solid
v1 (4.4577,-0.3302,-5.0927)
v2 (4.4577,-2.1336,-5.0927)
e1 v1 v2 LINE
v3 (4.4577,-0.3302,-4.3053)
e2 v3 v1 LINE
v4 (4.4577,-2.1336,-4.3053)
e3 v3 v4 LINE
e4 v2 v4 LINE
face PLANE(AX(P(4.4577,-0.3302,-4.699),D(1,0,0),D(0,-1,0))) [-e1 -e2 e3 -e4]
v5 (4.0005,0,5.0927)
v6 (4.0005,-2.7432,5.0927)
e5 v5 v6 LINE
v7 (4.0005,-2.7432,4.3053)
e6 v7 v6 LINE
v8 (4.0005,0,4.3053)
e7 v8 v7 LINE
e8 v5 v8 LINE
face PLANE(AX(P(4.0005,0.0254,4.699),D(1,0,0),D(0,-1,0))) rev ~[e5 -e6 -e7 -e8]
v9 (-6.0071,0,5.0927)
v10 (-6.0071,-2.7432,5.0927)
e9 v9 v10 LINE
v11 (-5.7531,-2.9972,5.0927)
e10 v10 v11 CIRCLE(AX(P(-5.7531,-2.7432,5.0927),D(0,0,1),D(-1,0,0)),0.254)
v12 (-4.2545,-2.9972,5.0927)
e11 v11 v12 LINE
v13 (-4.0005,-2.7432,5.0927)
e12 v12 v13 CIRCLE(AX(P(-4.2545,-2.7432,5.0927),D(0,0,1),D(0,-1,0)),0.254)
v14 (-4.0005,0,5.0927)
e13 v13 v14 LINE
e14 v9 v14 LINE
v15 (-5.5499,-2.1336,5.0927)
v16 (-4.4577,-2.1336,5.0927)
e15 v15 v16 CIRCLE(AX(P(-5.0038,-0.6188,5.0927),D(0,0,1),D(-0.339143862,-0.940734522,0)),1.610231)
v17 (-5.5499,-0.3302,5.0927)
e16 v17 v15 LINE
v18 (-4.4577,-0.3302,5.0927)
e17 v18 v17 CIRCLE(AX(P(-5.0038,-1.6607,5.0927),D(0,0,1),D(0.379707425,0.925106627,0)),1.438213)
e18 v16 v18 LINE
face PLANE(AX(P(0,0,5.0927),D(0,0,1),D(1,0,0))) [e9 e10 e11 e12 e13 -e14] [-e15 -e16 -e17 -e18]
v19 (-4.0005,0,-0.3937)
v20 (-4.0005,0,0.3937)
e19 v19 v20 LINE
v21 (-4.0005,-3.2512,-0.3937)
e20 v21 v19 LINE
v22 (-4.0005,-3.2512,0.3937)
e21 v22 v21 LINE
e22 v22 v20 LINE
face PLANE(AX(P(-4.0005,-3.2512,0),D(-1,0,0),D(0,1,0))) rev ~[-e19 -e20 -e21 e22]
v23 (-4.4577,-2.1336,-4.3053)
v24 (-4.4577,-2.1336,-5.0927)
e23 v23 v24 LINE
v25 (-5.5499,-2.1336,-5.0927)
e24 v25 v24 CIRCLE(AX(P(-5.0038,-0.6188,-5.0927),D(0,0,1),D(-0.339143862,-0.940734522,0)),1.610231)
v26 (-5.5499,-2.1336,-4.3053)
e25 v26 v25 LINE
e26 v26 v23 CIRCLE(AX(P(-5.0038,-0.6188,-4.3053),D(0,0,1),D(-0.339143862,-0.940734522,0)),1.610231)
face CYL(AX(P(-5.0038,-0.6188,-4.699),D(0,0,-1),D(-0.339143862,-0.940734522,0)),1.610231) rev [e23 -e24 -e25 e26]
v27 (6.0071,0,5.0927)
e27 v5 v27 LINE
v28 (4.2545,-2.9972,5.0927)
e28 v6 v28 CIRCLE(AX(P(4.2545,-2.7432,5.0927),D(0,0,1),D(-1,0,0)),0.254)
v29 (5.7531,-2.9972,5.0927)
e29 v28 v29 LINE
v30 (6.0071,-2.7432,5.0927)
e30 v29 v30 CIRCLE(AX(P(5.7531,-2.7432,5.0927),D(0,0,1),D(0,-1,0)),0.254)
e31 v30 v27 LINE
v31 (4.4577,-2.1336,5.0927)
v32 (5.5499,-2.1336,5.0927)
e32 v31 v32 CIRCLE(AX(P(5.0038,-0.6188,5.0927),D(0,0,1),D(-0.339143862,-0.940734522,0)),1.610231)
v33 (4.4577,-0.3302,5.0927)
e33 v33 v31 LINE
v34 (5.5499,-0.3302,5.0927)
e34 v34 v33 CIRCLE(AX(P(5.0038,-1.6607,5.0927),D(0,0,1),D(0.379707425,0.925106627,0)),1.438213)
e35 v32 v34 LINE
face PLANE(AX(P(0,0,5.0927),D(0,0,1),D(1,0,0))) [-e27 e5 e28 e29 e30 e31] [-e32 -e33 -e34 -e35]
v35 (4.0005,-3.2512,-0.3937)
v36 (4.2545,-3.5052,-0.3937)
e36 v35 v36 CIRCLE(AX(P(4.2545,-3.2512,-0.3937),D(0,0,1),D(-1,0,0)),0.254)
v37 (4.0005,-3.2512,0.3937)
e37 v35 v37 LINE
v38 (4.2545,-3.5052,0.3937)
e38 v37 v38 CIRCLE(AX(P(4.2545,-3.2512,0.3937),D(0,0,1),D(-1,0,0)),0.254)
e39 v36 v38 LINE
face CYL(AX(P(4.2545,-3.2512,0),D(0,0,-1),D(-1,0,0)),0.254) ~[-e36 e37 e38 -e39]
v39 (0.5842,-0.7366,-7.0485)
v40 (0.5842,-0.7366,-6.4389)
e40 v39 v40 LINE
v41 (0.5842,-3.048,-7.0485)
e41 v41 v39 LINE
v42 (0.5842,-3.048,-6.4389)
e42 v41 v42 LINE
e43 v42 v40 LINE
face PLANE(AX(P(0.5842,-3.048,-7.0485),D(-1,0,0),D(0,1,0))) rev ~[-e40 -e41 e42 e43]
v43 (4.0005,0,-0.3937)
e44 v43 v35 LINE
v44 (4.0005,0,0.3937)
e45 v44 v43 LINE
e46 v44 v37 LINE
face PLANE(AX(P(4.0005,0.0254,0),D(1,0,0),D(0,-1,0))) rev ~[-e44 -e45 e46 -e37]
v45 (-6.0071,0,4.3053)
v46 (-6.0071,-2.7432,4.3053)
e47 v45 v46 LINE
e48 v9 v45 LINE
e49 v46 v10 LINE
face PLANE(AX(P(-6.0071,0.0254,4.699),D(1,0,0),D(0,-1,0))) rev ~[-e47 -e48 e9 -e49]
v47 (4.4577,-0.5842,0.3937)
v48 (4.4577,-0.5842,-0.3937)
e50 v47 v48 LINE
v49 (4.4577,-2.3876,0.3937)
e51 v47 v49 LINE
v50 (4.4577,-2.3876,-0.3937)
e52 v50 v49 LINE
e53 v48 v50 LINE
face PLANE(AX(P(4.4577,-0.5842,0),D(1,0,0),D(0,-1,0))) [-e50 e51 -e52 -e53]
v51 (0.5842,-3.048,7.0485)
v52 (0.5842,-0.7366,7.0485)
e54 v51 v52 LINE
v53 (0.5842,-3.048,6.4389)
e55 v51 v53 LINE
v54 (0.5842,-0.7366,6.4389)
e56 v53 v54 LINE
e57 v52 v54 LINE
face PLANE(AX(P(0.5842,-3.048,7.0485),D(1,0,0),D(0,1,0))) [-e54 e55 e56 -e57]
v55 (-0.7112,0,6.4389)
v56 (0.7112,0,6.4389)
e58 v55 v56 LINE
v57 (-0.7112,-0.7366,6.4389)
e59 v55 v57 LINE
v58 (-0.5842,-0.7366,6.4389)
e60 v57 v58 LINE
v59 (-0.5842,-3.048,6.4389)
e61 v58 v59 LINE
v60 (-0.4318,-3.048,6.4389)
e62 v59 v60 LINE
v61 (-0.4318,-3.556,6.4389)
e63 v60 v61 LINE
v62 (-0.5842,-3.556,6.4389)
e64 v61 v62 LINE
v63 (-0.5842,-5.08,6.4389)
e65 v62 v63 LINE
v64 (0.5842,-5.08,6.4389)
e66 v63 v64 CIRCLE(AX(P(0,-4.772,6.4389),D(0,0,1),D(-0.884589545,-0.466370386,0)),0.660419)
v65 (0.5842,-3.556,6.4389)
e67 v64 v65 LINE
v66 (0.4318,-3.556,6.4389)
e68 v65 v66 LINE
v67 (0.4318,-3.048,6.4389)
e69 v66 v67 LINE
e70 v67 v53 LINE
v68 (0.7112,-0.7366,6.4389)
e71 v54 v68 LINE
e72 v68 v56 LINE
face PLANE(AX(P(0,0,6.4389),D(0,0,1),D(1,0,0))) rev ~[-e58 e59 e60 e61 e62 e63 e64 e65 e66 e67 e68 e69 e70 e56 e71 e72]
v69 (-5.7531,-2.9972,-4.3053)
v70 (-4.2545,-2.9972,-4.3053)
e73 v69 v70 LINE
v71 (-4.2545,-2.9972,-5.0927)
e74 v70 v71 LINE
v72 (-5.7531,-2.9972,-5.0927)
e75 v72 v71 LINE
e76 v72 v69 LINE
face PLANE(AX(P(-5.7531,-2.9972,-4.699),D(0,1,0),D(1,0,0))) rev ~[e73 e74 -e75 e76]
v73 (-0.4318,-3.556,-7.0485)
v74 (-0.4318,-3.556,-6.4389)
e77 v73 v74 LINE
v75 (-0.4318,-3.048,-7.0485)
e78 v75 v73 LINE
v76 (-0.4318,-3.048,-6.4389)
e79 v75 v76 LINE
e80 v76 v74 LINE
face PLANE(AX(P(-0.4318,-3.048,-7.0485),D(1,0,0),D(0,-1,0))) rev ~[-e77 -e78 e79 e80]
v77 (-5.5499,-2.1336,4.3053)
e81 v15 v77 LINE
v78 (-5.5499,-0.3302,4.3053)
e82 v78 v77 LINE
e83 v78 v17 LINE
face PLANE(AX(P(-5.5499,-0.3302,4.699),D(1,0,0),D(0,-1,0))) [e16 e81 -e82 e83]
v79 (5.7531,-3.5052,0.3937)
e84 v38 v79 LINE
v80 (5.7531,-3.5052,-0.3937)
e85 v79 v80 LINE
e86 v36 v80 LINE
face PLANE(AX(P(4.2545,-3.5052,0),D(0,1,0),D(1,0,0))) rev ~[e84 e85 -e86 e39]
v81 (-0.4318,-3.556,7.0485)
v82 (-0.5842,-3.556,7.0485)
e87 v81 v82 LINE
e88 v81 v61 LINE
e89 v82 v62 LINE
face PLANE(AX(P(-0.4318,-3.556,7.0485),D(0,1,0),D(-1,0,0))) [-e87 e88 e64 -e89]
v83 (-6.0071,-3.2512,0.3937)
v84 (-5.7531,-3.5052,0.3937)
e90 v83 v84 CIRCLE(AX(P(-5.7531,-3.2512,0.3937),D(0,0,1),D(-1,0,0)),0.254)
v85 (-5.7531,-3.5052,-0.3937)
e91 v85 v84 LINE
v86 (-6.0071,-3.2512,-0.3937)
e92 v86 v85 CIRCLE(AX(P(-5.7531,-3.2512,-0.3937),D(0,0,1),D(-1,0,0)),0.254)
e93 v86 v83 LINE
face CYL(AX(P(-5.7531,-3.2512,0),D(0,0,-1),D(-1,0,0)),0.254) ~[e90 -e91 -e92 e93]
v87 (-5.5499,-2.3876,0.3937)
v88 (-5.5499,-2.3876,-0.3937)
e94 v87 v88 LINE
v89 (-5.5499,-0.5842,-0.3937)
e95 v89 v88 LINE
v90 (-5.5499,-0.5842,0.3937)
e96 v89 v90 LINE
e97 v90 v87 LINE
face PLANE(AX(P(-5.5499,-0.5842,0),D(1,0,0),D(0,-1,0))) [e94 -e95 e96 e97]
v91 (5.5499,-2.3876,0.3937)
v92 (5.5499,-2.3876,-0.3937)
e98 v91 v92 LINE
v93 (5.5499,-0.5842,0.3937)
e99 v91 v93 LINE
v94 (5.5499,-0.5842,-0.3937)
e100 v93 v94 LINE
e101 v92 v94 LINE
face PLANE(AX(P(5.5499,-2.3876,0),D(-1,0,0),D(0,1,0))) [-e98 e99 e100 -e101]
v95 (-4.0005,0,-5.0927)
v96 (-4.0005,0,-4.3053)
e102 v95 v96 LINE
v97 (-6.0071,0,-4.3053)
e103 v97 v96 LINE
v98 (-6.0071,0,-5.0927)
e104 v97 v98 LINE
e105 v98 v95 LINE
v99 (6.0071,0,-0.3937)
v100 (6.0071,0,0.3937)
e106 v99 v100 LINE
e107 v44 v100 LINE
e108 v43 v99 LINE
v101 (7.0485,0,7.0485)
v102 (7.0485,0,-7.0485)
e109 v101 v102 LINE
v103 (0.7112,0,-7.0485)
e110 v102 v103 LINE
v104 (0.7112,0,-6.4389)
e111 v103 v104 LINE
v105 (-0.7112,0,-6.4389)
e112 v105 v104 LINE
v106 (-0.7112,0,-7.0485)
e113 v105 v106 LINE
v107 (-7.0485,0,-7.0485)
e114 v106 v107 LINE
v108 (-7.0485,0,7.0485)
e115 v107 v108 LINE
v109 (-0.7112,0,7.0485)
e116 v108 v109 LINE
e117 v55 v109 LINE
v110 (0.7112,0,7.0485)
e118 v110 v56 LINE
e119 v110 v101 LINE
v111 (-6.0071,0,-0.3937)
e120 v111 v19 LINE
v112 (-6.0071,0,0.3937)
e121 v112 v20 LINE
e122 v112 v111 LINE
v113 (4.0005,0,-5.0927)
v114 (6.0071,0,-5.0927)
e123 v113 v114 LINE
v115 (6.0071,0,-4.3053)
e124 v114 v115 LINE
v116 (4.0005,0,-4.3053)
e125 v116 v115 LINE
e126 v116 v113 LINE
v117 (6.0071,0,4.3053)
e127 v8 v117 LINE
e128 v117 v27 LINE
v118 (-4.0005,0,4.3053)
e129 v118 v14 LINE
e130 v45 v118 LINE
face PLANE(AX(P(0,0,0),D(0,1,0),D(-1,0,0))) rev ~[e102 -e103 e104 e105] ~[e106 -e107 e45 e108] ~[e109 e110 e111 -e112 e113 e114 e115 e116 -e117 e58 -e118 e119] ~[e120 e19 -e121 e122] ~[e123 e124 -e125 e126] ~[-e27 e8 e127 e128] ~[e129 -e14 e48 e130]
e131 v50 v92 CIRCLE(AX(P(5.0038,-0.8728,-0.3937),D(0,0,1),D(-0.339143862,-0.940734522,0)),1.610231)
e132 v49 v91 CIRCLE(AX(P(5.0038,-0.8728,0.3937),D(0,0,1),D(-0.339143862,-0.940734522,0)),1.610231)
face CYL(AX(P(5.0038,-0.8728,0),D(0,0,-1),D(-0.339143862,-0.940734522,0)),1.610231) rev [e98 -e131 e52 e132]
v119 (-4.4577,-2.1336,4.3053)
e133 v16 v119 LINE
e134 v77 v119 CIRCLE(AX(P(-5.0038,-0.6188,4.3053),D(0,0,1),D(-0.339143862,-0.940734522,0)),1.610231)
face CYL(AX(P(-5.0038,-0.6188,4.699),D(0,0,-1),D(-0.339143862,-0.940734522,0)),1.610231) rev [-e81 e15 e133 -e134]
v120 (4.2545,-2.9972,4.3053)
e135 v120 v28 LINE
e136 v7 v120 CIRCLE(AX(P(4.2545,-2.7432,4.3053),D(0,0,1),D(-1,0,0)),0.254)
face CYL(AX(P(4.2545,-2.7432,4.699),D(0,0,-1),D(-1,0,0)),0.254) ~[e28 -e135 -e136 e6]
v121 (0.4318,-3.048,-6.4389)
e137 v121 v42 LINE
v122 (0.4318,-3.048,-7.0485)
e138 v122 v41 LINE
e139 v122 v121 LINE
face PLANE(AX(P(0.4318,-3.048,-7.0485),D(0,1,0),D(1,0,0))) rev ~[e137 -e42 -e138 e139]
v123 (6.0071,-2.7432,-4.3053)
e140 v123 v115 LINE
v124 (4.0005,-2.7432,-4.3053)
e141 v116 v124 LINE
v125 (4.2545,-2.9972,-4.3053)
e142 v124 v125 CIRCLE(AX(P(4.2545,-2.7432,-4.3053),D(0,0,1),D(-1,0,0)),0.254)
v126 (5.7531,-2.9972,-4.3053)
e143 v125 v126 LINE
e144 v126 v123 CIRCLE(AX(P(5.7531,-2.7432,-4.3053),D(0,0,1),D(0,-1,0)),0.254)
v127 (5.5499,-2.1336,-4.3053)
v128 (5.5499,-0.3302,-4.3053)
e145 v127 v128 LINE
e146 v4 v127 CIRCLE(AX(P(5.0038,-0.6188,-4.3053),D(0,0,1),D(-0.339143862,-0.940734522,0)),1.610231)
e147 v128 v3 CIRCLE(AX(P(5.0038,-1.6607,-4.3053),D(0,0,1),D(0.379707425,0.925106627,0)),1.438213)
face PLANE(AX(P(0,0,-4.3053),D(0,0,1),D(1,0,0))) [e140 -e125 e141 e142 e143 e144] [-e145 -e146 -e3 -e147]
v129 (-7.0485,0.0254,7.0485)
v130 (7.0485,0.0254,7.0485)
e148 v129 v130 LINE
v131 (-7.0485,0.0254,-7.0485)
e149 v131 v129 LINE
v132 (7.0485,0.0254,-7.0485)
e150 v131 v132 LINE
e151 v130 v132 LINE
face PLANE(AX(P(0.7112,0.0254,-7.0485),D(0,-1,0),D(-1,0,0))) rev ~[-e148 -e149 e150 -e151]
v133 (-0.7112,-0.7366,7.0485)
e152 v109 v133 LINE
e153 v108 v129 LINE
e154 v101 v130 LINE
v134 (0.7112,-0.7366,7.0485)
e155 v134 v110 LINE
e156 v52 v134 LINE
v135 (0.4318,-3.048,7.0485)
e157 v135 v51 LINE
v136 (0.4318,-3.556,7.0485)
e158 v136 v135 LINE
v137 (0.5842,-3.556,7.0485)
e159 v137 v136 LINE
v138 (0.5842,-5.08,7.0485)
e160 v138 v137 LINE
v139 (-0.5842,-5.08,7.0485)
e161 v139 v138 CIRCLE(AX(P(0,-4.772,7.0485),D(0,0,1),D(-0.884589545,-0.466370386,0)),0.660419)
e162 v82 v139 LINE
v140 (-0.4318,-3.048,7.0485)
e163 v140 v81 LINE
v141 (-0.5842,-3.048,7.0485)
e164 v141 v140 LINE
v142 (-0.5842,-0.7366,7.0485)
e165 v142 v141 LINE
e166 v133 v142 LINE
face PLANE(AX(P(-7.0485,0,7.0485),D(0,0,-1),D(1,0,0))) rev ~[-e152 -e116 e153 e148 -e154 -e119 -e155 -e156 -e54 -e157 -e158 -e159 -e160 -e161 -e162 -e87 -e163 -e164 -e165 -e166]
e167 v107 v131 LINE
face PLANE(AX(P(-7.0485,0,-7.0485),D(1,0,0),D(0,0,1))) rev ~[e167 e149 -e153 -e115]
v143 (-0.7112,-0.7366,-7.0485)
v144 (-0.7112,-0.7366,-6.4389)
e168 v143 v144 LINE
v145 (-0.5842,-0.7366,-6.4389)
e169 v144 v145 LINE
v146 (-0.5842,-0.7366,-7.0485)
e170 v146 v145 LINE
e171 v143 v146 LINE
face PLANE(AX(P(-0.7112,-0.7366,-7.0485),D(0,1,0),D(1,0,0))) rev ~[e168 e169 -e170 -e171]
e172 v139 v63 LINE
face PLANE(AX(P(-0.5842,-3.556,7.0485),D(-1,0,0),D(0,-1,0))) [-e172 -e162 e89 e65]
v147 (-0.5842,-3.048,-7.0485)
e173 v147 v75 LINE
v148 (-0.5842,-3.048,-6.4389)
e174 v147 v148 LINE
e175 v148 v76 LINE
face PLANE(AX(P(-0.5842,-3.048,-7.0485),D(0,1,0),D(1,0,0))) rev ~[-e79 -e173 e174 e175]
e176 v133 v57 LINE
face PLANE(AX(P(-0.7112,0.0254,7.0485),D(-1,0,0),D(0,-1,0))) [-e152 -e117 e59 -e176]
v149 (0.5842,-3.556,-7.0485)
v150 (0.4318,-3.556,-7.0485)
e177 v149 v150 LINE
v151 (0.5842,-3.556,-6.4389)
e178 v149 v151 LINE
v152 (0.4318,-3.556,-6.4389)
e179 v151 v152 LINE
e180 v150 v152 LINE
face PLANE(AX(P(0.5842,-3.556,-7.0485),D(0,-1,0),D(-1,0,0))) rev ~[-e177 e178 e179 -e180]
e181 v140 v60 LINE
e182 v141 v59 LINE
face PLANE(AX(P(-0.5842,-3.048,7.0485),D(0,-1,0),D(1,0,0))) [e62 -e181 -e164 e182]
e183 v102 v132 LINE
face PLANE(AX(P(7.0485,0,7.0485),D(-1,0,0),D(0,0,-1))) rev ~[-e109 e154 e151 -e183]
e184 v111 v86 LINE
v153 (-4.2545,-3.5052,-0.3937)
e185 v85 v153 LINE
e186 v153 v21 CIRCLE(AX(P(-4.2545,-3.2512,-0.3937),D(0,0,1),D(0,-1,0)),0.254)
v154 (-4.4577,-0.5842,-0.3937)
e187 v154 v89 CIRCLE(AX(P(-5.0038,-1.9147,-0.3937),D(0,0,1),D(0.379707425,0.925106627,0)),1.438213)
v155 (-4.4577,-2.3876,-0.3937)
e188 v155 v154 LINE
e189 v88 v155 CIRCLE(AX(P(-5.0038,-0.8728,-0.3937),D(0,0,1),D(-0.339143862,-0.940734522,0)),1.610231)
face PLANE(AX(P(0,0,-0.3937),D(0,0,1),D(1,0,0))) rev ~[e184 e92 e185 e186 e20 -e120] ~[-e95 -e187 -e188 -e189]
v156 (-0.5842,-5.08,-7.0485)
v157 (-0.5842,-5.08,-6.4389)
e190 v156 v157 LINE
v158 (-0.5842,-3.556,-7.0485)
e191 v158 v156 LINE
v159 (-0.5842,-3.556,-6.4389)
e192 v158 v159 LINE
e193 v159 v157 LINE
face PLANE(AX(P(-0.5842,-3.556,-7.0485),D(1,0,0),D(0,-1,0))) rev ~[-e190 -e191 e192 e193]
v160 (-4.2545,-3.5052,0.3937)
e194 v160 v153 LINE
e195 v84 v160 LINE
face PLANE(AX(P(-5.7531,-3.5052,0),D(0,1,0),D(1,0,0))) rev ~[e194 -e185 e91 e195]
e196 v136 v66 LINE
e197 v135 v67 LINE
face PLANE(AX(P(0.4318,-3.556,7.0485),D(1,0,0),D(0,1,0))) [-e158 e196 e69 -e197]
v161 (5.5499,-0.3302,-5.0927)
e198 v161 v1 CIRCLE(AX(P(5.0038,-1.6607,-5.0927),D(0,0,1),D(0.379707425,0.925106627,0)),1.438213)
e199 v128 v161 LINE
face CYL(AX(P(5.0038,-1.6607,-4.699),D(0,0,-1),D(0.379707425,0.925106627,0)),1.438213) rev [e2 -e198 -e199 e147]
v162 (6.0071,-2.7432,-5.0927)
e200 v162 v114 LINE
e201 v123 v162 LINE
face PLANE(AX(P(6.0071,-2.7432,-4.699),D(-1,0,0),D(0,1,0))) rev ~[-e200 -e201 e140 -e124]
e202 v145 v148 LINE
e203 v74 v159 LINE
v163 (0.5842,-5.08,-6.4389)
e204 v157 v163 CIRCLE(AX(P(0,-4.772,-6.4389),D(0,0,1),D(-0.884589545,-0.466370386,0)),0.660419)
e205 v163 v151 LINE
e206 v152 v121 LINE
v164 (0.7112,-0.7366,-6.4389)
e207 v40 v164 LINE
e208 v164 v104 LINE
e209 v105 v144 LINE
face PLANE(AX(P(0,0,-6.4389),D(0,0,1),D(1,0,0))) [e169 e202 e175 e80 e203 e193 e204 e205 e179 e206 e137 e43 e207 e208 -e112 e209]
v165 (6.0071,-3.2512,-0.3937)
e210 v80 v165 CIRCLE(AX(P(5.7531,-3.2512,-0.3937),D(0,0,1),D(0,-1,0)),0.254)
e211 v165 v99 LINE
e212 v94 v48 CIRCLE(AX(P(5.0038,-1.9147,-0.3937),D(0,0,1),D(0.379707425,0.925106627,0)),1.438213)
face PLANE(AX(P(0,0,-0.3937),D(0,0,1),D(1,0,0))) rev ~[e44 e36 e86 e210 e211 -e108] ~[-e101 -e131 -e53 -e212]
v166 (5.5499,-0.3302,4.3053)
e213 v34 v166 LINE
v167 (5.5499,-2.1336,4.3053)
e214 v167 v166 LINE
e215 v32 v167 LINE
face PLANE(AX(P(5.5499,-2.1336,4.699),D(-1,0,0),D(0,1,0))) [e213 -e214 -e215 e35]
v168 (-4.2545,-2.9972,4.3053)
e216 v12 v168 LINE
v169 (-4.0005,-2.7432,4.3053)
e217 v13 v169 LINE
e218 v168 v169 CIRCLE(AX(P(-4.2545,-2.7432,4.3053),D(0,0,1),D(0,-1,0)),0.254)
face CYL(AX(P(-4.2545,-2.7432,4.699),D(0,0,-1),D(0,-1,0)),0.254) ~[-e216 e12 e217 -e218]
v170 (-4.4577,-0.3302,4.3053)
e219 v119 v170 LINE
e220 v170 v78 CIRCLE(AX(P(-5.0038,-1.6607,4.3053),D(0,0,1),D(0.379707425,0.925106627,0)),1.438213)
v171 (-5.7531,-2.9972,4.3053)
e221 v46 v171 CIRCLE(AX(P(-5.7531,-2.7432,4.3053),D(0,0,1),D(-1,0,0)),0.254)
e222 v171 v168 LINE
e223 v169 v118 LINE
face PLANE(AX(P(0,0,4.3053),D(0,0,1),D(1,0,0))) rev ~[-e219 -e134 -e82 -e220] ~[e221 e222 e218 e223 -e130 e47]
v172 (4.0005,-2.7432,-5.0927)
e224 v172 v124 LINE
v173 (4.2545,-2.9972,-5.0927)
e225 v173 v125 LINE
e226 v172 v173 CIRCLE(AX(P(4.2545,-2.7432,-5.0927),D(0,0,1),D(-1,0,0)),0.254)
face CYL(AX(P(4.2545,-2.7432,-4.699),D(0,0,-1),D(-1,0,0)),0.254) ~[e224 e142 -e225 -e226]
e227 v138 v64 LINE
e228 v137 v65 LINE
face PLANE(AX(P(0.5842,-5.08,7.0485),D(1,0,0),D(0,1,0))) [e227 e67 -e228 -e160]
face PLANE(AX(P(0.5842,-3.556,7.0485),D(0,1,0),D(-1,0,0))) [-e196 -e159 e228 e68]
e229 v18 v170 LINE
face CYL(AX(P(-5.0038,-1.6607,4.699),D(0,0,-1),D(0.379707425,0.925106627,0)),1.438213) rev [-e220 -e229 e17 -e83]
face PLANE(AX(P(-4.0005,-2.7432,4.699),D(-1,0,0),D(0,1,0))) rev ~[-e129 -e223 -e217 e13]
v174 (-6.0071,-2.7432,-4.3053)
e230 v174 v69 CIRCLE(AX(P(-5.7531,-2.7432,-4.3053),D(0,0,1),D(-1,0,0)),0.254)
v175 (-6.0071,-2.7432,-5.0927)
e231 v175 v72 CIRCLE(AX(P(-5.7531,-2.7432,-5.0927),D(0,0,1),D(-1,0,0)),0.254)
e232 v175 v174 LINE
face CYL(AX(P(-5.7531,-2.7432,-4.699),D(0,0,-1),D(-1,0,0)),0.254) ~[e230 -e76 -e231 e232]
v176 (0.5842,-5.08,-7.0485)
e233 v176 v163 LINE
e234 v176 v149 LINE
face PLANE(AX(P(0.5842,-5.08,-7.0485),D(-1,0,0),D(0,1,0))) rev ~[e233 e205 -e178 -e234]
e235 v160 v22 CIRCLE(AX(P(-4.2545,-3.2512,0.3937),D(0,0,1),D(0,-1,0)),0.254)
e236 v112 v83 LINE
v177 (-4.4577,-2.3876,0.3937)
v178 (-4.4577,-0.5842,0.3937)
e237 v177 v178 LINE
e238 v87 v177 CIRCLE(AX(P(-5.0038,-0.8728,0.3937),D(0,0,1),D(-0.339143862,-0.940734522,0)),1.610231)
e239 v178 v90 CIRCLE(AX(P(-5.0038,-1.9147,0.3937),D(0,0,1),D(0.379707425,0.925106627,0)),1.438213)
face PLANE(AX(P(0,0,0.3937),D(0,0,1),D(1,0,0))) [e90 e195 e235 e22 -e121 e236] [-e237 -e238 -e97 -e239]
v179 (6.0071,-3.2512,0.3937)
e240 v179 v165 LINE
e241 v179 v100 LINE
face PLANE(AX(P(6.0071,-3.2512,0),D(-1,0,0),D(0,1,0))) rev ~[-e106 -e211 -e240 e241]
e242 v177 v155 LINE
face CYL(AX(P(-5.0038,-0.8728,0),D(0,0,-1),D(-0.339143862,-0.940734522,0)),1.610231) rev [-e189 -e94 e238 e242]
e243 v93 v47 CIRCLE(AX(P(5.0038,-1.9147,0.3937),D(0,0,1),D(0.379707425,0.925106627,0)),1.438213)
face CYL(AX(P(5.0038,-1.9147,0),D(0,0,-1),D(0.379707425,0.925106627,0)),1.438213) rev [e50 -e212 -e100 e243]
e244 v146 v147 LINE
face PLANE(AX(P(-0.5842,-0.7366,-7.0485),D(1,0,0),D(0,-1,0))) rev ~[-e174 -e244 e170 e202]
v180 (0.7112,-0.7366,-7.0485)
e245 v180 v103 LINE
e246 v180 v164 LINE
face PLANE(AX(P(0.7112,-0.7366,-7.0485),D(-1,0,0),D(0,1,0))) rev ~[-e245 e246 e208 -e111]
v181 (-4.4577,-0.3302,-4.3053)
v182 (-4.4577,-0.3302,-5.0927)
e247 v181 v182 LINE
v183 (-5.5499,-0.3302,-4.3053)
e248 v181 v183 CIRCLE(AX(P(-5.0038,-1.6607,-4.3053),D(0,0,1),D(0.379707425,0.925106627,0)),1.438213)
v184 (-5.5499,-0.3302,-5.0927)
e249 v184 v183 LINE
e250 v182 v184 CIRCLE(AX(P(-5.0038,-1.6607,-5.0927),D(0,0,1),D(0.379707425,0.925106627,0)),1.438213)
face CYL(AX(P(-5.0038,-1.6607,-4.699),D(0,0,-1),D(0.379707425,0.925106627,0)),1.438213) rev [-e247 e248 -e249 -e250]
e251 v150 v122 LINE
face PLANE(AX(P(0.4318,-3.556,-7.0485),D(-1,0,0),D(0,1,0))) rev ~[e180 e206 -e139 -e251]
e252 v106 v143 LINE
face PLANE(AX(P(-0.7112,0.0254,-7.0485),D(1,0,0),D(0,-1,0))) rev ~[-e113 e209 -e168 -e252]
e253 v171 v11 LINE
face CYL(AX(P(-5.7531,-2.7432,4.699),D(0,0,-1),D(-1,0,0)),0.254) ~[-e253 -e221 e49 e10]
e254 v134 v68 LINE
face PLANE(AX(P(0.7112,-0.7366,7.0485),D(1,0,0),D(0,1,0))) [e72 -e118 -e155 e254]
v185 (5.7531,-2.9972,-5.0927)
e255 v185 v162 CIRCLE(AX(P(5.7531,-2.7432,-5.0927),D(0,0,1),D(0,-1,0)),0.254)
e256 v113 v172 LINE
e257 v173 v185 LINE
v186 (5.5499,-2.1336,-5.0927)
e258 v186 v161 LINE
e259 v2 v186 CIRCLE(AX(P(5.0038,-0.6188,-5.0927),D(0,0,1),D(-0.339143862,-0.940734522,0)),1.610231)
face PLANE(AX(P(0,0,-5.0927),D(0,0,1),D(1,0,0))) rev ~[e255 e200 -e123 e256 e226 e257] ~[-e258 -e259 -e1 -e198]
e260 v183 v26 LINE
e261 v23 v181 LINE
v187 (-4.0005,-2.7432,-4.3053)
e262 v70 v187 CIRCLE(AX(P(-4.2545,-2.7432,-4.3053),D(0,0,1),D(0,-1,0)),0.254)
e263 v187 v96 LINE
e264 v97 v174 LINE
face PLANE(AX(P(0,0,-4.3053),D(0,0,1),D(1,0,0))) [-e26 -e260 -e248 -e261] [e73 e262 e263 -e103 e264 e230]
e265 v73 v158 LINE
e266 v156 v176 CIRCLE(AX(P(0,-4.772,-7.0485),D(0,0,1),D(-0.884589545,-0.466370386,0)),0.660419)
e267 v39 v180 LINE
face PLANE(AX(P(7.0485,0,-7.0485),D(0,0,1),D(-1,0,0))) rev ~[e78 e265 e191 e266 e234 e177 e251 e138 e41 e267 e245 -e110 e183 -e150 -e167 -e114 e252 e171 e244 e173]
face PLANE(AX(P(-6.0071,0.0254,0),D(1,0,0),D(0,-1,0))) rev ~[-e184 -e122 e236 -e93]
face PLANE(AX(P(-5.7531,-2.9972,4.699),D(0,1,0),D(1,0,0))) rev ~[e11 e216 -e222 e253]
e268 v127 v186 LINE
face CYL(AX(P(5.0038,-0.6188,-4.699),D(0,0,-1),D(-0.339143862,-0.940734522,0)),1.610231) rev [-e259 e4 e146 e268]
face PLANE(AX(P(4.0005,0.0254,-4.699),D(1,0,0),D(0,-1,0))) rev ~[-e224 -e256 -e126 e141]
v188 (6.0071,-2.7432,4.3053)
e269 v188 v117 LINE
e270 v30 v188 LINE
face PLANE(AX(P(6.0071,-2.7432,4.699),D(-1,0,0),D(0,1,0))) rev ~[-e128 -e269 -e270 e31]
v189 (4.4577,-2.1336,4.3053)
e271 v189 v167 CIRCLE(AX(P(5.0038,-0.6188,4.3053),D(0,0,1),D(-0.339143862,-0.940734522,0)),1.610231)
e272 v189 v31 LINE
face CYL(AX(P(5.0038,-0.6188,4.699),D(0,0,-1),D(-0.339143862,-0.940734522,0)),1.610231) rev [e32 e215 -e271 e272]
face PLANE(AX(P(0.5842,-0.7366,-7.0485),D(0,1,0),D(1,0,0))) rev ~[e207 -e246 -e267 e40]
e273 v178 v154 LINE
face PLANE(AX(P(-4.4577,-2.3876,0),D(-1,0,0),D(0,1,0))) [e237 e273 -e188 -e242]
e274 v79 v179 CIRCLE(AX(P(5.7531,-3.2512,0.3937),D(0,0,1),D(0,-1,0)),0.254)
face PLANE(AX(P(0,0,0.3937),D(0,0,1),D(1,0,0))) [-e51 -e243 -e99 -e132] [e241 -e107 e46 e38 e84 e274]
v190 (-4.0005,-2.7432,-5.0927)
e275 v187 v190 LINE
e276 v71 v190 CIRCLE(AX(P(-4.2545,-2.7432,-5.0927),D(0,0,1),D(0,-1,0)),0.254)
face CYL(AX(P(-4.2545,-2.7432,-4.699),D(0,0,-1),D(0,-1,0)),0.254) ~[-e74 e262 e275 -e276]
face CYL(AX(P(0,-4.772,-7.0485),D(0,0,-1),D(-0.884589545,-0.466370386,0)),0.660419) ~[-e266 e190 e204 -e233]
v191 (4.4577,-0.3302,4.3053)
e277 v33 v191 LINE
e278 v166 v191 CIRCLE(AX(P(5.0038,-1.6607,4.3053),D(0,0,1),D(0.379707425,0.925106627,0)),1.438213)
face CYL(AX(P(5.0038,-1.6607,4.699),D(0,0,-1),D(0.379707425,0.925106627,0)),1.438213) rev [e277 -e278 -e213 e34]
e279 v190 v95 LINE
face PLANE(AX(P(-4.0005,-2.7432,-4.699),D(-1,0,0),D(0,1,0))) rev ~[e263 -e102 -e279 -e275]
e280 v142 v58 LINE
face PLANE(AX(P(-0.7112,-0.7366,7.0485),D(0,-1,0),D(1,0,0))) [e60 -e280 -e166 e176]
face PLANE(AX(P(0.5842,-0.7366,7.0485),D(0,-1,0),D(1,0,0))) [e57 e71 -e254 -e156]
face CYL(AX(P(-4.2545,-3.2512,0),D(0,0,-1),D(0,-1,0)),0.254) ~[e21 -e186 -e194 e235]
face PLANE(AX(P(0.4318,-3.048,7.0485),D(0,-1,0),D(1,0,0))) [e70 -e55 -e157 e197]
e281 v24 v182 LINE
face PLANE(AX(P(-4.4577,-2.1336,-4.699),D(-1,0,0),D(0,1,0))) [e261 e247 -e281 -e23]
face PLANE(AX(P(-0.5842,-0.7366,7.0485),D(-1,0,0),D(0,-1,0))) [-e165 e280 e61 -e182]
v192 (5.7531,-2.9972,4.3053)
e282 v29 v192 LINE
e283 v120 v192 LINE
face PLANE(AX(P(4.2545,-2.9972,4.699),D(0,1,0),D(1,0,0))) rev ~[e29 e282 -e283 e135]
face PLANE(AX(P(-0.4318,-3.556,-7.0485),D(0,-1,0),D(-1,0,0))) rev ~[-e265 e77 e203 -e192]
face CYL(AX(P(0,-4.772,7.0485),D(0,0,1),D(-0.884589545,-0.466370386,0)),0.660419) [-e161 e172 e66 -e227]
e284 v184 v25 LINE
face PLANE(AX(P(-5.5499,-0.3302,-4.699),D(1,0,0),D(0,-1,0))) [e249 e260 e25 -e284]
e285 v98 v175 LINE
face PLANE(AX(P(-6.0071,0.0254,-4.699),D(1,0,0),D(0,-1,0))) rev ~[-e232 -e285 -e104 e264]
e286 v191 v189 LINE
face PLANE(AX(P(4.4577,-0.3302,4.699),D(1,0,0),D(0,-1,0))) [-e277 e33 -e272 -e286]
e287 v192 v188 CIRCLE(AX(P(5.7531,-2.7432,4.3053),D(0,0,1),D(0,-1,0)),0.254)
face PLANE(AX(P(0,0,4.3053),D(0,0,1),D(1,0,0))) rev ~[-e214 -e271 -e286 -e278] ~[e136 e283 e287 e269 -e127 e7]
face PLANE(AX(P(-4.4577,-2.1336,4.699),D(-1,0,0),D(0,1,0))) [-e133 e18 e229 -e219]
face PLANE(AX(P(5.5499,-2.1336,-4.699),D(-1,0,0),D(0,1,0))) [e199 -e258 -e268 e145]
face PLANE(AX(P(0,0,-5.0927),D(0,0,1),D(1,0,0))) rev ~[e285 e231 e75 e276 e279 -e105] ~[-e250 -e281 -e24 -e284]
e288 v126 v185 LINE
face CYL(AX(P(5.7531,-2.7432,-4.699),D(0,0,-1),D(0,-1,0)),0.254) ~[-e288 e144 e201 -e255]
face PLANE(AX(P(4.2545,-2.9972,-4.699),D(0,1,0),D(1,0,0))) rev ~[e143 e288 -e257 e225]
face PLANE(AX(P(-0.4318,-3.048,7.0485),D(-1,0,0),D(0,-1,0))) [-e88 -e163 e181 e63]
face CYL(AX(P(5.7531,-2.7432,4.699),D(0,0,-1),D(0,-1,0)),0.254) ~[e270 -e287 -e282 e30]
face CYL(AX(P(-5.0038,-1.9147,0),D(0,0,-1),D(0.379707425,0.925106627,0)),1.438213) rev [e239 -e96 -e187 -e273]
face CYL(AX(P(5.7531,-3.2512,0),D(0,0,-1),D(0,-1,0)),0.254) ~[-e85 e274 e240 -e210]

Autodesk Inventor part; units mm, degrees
sketch "Sketch_1" plane through (0, 0, 0) normal (0, 1, 0) x (-1, 0, 0)
  line L0 (7.0485, -7.0485) -> (7.0485, 7.0485)
  line L1 (7.0485, 7.0485) -> (-7.0485, 7.0485)
  line L2 (-7.0485, 7.0485) -> (-7.0485, -7.0485)
  line L3 (-7.0485, -7.0485) -> (7.0485, -7.0485)
extrude "Extrusion1" add sketch "Sketch_1" along normal blind 0.0254
sketch "Sketch_3" plane through (0, 0, 7.0485) normal (0, 0, 1) x (1, 0, 0)
  line L0 (-0.7112, 0.0254) -> (-0.7112, -0.7366)
  line L1 (-0.7112, -0.7366) -> (-0.5842, -0.7366)
  line L2 (-0.5842, -0.7366) -> (-0.5842, -3.048)
  line L3 (-0.5842, -3.048) -> (-0.4318, -3.048)
  line L4 (-0.4318, -3.048) -> (-0.4318, -3.556)
  line L5 (-0.4318, -3.556) -> (-0.5842, -3.556)
  line L6 (-0.5842, -3.556) -> (-0.5842, -5.08)
  arc A0 (-0.5842, -5.08) -> (0.5842, -5.08) centre (0, -4.772) ccw
  line L7 (0.5842, -5.08) -> (0.5842, -3.556)
  line L8 (0.5842, -3.556) -> (0.4318, -3.556)
  line L9 (0.4318, -3.556) -> (0.4318, -3.048)
  line L10 (0.4318, -3.048) -> (0.5842, -3.048)
  line L11 (0.5842, -3.048) -> (0.5842, -0.7366)
  line L12 (0.5842, -0.7366) -> (0.7112, -0.7366)
  line L13 (0.7112, -0.7366) -> (0.7112, 0.0254)
  line L14 (0.7112, 0.0254) -> (-0.7112, 0.0254)
extrude "Extrusion2" add sketch "Sketch_3" against normal blind 0.6096
sketch "Sketch_5" plane through (0, 0, 0) normal (0, 0, 1) x (1, 0, 0)
  line L0 (4.0005, 0.0254) -> (4.0005, -3.2512)
  arc A0 (4.0005, -3.2512) -> (4.2545, -3.5052) centre (4.2545, -3.2512) ccw
  line L1 (4.2545, -3.5052) -> (5.7531, -3.5052)
  arc A1 (5.7531, -3.5052) -> (6.0071, -3.2512) centre (5.7531, -3.2512) ccw
  line L2 (6.0071, -3.2512) -> (6.0071, 0.0254)
  line L3 (6.0071, 0.0254) -> (4.0005, 0.0254)
  arc A2 (4.4577, -2.3876) -> (5.5499, -2.3876) centre (5.0038, -0.8728) ccw
  line L4 (5.5499, -2.3876) -> (5.5499, -0.5842)
  arc A3 (5.5499, -0.5842) -> (4.4577, -0.5842) centre (5.0038, -1.9147) ccw
  line L5 (4.4577, -0.5842) -> (4.4577, -2.3876)
extrude "Extrusion3" add sketch "Sketch_5" along normal mid plane 0.7874
sketch "Sketch_6" plane through (0, 0, 0) normal (0, 0, 1) x (1, 0, 0)
  line L0 (-6.0071, 0.0254) -> (-6.0071, -3.2512)
  arc A0 (-6.0071, -3.2512) -> (-5.7531, -3.5052) centre (-5.7531, -3.2512) ccw
  line L1 (-5.7531, -3.5052) -> (-4.2545, -3.5052)
  arc A1 (-4.2545, -3.5052) -> (-4.0005, -3.2512) centre (-4.2545, -3.2512) ccw
  line L2 (-4.0005, -3.2512) -> (-4.0005, 0.0254)
  line L3 (-4.0005, 0.0254) -> (-6.0071, 0.0254)
  line L4 (-5.5499, -0.5842) -> (-5.5499, -2.3876)
  arc A2 (-5.5499, -2.3876) -> (-4.4577, -2.3876) centre (-5.0038, -0.8728) ccw
  line L5 (-4.4577, -2.3876) -> (-4.4577, -0.5842)
  arc A3 (-4.4577, -0.5842) -> (-5.5499, -0.5842) centre (-5.0038, -1.9147) ccw
extrude "Extrusion4" add sketch "Sketch_6" along normal mid plane 0.7874
sketch "Sketch_7" plane through (0, 0, -4.699) normal (0, 0, 1) x (1, 0, 0)
  line L0 (4.0005, 0.0254) -> (4.0005, -2.7432)
  arc A0 (4.0005, -2.7432) -> (4.2545, -2.9972) centre (4.2545, -2.7432) ccw
  line L1 (4.2545, -2.9972) -> (5.7531, -2.9972)
  arc A1 (5.7531, -2.9972) -> (6.0071, -2.7432) centre (5.7531, -2.7432) ccw
  line L2 (6.0071, -2.7432) -> (6.0071, 0.0254)
  line L3 (6.0071, 0.0254) -> (4.0005, 0.0254)
  arc A2 (4.4577, -2.1336) -> (5.5499, -2.1336) centre (5.0038, -0.6188) ccw
  line L4 (5.5499, -2.1336) -> (5.5499, -0.3302)
  arc A3 (5.5499, -0.3302) -> (4.4577, -0.3302) centre (5.0038, -1.6607) ccw
  line L5 (4.4577, -0.3302) -> (4.4577, -2.1336)
extrude "Extrusion5" add sketch "Sketch_7" along normal mid plane 0.7874
sketch "Sketch_8" plane through (0, 0, -4.699) normal (0, 0, 1) x (1, 0, 0)
  line L0 (-6.0071, 0.0254) -> (-6.0071, -2.7432)
  arc A0 (-6.0071, -2.7432) -> (-5.7531, -2.9972) centre (-5.7531, -2.7432) ccw
  line L1 (-5.7531, -2.9972) -> (-4.2545, -2.9972)
  arc A1 (-4.2545, -2.9972) -> (-4.0005, -2.7432) centre (-4.2545, -2.7432) ccw
  line L2 (-4.0005, -2.7432) -> (-4.0005, 0.0254)
  line L3 (-4.0005, 0.0254) -> (-6.0071, 0.0254)
  line L4 (-5.5499, -0.3302) -> (-5.5499, -2.1336)
  arc A2 (-5.5499, -2.1336) -> (-4.4577, -2.1336) centre (-5.0038, -0.6188) ccw
  line L5 (-4.4577, -2.1336) -> (-4.4577, -0.3302)
  arc A3 (-4.4577, -0.3302) -> (-5.5499, -0.3302) centre (-5.0038, -1.6607) ccw
extrude "Extrusion6" add sketch "Sketch_8" along normal mid plane 0.7874
sketch "Sketch_9" plane through (0, 0, 4.699) normal (0, 0, 1) x (1, 0, 0)
  line L0 (4.0005, 0.0254) -> (4.0005, -2.7432)
  arc A0 (4.0005, -2.7432) -> (4.2545, -2.9972) centre (4.2545, -2.7432) ccw
  line L1 (4.2545, -2.9972) -> (5.7531, -2.9972)
  arc A1 (5.7531, -2.9972) -> (6.0071, -2.7432) centre (5.7531, -2.7432) ccw
  line L2 (6.0071, -2.7432) -> (6.0071, 0.0254)
  line L3 (6.0071, 0.0254) -> (4.0005, 0.0254)
  arc A2 (4.4577, -2.1336) -> (5.5499, -2.1336) centre (5.0038, -0.6188) ccw
  line L4 (5.5499, -2.1336) -> (5.5499, -0.3302)
  arc A3 (5.5499, -0.3302) -> (4.4577, -0.3302) centre (5.0038, -1.6607) ccw
  line L5 (4.4577, -0.3302) -> (4.4577, -2.1336)
extrude "Extrusion7" add sketch "Sketch_9" along normal mid plane 0.7874
sketch "Sketch_10" plane through (0, 0, 4.699) normal (0, 0, 1) x (1, 0, 0)
  line L0 (-6.0071, 0.0254) -> (-6.0071, -2.7432)
  arc A0 (-6.0071, -2.7432) -> (-5.7531, -2.9972) centre (-5.7531, -2.7432) ccw
  line L1 (-5.7531, -2.9972) -> (-4.2545, -2.9972)
  arc A1 (-4.2545, -2.9972) -> (-4.0005, -2.7432) centre (-4.2545, -2.7432) ccw
  line L2 (-4.0005, -2.7432) -> (-4.0005, 0.0254)
  line L3 (-4.0005, 0.0254) -> (-6.0071, 0.0254)
  line L4 (-5.5499, -0.3302) -> (-5.5499, -2.1336)
  arc A2 (-5.5499, -2.1336) -> (-4.4577, -2.1336) centre (-5.0038, -0.6188) ccw
  line L5 (-4.4577, -2.1336) -> (-4.4577, -0.3302)
  arc A3 (-4.4577, -0.3302) -> (-5.5499, -0.3302) centre (-5.0038, -1.6607) ccw
extrude "Extrusion8" add sketch "Sketch_10" along normal mid plane 0.7874
sketch "Sketch_4" plane through (0, 0, -7.0485) normal (0, 0, 1) x (1, 0, 0)
  line L0 (-0.7112, 0.0254) -> (-0.7112, -0.7366)
  line L1 (-0.7112, -0.7366) -> (-0.5842, -0.7366)
  line L2 (-0.5842, -0.7366) -> (-0.5842, -3.048)
  line L3 (-0.5842, -3.048) -> (-0.4318, -3.048)
  line L4 (-0.4318, -3.048) -> (-0.4318, -3.556)
  line L5 (-0.4318, -3.556) -> (-0.5842, -3.556)
  line L6 (-0.5842, -3.556) -> (-0.5842, -5.08)
  arc A0 (-0.5842, -5.08) -> (0.5842, -5.08) centre (0, -4.772) ccw
  line L7 (0.5842, -5.08) -> (0.5842, -3.556)
  line L8 (0.5842, -3.556) -> (0.4318, -3.556)
  line L9 (0.4318, -3.556) -> (0.4318, -3.048)
  line L10 (0.4318, -3.048) -> (0.5842, -3.048)
  line L11 (0.5842, -3.048) -> (0.5842, -0.7366)
  line L12 (0.5842, -0.7366) -> (0.7112, -0.7366)
  line L13 (0.7112, -0.7366) -> (0.7112, 0.0254)
  line L14 (0.7112, 0.0254) -> (-0.7112, 0.0254)
extrude "Extrusion9" add sketch "Sketch_4" along normal blind 0.6096
ref_plane "pins_to_body_XY" through (0, 0, 0) normal (0, -1, 0) x (1, 0, 0)
ref_plane "pins_to_body_YZ" through (0, 0, 0) normal (1, 0, 0) x (0, 0, 1)
ref_plane "pins_to_body_ZX" through (0, 0, 0) normal (0, 0, 1) x (0, -1, 0)
properties part number "tlD-pins"
